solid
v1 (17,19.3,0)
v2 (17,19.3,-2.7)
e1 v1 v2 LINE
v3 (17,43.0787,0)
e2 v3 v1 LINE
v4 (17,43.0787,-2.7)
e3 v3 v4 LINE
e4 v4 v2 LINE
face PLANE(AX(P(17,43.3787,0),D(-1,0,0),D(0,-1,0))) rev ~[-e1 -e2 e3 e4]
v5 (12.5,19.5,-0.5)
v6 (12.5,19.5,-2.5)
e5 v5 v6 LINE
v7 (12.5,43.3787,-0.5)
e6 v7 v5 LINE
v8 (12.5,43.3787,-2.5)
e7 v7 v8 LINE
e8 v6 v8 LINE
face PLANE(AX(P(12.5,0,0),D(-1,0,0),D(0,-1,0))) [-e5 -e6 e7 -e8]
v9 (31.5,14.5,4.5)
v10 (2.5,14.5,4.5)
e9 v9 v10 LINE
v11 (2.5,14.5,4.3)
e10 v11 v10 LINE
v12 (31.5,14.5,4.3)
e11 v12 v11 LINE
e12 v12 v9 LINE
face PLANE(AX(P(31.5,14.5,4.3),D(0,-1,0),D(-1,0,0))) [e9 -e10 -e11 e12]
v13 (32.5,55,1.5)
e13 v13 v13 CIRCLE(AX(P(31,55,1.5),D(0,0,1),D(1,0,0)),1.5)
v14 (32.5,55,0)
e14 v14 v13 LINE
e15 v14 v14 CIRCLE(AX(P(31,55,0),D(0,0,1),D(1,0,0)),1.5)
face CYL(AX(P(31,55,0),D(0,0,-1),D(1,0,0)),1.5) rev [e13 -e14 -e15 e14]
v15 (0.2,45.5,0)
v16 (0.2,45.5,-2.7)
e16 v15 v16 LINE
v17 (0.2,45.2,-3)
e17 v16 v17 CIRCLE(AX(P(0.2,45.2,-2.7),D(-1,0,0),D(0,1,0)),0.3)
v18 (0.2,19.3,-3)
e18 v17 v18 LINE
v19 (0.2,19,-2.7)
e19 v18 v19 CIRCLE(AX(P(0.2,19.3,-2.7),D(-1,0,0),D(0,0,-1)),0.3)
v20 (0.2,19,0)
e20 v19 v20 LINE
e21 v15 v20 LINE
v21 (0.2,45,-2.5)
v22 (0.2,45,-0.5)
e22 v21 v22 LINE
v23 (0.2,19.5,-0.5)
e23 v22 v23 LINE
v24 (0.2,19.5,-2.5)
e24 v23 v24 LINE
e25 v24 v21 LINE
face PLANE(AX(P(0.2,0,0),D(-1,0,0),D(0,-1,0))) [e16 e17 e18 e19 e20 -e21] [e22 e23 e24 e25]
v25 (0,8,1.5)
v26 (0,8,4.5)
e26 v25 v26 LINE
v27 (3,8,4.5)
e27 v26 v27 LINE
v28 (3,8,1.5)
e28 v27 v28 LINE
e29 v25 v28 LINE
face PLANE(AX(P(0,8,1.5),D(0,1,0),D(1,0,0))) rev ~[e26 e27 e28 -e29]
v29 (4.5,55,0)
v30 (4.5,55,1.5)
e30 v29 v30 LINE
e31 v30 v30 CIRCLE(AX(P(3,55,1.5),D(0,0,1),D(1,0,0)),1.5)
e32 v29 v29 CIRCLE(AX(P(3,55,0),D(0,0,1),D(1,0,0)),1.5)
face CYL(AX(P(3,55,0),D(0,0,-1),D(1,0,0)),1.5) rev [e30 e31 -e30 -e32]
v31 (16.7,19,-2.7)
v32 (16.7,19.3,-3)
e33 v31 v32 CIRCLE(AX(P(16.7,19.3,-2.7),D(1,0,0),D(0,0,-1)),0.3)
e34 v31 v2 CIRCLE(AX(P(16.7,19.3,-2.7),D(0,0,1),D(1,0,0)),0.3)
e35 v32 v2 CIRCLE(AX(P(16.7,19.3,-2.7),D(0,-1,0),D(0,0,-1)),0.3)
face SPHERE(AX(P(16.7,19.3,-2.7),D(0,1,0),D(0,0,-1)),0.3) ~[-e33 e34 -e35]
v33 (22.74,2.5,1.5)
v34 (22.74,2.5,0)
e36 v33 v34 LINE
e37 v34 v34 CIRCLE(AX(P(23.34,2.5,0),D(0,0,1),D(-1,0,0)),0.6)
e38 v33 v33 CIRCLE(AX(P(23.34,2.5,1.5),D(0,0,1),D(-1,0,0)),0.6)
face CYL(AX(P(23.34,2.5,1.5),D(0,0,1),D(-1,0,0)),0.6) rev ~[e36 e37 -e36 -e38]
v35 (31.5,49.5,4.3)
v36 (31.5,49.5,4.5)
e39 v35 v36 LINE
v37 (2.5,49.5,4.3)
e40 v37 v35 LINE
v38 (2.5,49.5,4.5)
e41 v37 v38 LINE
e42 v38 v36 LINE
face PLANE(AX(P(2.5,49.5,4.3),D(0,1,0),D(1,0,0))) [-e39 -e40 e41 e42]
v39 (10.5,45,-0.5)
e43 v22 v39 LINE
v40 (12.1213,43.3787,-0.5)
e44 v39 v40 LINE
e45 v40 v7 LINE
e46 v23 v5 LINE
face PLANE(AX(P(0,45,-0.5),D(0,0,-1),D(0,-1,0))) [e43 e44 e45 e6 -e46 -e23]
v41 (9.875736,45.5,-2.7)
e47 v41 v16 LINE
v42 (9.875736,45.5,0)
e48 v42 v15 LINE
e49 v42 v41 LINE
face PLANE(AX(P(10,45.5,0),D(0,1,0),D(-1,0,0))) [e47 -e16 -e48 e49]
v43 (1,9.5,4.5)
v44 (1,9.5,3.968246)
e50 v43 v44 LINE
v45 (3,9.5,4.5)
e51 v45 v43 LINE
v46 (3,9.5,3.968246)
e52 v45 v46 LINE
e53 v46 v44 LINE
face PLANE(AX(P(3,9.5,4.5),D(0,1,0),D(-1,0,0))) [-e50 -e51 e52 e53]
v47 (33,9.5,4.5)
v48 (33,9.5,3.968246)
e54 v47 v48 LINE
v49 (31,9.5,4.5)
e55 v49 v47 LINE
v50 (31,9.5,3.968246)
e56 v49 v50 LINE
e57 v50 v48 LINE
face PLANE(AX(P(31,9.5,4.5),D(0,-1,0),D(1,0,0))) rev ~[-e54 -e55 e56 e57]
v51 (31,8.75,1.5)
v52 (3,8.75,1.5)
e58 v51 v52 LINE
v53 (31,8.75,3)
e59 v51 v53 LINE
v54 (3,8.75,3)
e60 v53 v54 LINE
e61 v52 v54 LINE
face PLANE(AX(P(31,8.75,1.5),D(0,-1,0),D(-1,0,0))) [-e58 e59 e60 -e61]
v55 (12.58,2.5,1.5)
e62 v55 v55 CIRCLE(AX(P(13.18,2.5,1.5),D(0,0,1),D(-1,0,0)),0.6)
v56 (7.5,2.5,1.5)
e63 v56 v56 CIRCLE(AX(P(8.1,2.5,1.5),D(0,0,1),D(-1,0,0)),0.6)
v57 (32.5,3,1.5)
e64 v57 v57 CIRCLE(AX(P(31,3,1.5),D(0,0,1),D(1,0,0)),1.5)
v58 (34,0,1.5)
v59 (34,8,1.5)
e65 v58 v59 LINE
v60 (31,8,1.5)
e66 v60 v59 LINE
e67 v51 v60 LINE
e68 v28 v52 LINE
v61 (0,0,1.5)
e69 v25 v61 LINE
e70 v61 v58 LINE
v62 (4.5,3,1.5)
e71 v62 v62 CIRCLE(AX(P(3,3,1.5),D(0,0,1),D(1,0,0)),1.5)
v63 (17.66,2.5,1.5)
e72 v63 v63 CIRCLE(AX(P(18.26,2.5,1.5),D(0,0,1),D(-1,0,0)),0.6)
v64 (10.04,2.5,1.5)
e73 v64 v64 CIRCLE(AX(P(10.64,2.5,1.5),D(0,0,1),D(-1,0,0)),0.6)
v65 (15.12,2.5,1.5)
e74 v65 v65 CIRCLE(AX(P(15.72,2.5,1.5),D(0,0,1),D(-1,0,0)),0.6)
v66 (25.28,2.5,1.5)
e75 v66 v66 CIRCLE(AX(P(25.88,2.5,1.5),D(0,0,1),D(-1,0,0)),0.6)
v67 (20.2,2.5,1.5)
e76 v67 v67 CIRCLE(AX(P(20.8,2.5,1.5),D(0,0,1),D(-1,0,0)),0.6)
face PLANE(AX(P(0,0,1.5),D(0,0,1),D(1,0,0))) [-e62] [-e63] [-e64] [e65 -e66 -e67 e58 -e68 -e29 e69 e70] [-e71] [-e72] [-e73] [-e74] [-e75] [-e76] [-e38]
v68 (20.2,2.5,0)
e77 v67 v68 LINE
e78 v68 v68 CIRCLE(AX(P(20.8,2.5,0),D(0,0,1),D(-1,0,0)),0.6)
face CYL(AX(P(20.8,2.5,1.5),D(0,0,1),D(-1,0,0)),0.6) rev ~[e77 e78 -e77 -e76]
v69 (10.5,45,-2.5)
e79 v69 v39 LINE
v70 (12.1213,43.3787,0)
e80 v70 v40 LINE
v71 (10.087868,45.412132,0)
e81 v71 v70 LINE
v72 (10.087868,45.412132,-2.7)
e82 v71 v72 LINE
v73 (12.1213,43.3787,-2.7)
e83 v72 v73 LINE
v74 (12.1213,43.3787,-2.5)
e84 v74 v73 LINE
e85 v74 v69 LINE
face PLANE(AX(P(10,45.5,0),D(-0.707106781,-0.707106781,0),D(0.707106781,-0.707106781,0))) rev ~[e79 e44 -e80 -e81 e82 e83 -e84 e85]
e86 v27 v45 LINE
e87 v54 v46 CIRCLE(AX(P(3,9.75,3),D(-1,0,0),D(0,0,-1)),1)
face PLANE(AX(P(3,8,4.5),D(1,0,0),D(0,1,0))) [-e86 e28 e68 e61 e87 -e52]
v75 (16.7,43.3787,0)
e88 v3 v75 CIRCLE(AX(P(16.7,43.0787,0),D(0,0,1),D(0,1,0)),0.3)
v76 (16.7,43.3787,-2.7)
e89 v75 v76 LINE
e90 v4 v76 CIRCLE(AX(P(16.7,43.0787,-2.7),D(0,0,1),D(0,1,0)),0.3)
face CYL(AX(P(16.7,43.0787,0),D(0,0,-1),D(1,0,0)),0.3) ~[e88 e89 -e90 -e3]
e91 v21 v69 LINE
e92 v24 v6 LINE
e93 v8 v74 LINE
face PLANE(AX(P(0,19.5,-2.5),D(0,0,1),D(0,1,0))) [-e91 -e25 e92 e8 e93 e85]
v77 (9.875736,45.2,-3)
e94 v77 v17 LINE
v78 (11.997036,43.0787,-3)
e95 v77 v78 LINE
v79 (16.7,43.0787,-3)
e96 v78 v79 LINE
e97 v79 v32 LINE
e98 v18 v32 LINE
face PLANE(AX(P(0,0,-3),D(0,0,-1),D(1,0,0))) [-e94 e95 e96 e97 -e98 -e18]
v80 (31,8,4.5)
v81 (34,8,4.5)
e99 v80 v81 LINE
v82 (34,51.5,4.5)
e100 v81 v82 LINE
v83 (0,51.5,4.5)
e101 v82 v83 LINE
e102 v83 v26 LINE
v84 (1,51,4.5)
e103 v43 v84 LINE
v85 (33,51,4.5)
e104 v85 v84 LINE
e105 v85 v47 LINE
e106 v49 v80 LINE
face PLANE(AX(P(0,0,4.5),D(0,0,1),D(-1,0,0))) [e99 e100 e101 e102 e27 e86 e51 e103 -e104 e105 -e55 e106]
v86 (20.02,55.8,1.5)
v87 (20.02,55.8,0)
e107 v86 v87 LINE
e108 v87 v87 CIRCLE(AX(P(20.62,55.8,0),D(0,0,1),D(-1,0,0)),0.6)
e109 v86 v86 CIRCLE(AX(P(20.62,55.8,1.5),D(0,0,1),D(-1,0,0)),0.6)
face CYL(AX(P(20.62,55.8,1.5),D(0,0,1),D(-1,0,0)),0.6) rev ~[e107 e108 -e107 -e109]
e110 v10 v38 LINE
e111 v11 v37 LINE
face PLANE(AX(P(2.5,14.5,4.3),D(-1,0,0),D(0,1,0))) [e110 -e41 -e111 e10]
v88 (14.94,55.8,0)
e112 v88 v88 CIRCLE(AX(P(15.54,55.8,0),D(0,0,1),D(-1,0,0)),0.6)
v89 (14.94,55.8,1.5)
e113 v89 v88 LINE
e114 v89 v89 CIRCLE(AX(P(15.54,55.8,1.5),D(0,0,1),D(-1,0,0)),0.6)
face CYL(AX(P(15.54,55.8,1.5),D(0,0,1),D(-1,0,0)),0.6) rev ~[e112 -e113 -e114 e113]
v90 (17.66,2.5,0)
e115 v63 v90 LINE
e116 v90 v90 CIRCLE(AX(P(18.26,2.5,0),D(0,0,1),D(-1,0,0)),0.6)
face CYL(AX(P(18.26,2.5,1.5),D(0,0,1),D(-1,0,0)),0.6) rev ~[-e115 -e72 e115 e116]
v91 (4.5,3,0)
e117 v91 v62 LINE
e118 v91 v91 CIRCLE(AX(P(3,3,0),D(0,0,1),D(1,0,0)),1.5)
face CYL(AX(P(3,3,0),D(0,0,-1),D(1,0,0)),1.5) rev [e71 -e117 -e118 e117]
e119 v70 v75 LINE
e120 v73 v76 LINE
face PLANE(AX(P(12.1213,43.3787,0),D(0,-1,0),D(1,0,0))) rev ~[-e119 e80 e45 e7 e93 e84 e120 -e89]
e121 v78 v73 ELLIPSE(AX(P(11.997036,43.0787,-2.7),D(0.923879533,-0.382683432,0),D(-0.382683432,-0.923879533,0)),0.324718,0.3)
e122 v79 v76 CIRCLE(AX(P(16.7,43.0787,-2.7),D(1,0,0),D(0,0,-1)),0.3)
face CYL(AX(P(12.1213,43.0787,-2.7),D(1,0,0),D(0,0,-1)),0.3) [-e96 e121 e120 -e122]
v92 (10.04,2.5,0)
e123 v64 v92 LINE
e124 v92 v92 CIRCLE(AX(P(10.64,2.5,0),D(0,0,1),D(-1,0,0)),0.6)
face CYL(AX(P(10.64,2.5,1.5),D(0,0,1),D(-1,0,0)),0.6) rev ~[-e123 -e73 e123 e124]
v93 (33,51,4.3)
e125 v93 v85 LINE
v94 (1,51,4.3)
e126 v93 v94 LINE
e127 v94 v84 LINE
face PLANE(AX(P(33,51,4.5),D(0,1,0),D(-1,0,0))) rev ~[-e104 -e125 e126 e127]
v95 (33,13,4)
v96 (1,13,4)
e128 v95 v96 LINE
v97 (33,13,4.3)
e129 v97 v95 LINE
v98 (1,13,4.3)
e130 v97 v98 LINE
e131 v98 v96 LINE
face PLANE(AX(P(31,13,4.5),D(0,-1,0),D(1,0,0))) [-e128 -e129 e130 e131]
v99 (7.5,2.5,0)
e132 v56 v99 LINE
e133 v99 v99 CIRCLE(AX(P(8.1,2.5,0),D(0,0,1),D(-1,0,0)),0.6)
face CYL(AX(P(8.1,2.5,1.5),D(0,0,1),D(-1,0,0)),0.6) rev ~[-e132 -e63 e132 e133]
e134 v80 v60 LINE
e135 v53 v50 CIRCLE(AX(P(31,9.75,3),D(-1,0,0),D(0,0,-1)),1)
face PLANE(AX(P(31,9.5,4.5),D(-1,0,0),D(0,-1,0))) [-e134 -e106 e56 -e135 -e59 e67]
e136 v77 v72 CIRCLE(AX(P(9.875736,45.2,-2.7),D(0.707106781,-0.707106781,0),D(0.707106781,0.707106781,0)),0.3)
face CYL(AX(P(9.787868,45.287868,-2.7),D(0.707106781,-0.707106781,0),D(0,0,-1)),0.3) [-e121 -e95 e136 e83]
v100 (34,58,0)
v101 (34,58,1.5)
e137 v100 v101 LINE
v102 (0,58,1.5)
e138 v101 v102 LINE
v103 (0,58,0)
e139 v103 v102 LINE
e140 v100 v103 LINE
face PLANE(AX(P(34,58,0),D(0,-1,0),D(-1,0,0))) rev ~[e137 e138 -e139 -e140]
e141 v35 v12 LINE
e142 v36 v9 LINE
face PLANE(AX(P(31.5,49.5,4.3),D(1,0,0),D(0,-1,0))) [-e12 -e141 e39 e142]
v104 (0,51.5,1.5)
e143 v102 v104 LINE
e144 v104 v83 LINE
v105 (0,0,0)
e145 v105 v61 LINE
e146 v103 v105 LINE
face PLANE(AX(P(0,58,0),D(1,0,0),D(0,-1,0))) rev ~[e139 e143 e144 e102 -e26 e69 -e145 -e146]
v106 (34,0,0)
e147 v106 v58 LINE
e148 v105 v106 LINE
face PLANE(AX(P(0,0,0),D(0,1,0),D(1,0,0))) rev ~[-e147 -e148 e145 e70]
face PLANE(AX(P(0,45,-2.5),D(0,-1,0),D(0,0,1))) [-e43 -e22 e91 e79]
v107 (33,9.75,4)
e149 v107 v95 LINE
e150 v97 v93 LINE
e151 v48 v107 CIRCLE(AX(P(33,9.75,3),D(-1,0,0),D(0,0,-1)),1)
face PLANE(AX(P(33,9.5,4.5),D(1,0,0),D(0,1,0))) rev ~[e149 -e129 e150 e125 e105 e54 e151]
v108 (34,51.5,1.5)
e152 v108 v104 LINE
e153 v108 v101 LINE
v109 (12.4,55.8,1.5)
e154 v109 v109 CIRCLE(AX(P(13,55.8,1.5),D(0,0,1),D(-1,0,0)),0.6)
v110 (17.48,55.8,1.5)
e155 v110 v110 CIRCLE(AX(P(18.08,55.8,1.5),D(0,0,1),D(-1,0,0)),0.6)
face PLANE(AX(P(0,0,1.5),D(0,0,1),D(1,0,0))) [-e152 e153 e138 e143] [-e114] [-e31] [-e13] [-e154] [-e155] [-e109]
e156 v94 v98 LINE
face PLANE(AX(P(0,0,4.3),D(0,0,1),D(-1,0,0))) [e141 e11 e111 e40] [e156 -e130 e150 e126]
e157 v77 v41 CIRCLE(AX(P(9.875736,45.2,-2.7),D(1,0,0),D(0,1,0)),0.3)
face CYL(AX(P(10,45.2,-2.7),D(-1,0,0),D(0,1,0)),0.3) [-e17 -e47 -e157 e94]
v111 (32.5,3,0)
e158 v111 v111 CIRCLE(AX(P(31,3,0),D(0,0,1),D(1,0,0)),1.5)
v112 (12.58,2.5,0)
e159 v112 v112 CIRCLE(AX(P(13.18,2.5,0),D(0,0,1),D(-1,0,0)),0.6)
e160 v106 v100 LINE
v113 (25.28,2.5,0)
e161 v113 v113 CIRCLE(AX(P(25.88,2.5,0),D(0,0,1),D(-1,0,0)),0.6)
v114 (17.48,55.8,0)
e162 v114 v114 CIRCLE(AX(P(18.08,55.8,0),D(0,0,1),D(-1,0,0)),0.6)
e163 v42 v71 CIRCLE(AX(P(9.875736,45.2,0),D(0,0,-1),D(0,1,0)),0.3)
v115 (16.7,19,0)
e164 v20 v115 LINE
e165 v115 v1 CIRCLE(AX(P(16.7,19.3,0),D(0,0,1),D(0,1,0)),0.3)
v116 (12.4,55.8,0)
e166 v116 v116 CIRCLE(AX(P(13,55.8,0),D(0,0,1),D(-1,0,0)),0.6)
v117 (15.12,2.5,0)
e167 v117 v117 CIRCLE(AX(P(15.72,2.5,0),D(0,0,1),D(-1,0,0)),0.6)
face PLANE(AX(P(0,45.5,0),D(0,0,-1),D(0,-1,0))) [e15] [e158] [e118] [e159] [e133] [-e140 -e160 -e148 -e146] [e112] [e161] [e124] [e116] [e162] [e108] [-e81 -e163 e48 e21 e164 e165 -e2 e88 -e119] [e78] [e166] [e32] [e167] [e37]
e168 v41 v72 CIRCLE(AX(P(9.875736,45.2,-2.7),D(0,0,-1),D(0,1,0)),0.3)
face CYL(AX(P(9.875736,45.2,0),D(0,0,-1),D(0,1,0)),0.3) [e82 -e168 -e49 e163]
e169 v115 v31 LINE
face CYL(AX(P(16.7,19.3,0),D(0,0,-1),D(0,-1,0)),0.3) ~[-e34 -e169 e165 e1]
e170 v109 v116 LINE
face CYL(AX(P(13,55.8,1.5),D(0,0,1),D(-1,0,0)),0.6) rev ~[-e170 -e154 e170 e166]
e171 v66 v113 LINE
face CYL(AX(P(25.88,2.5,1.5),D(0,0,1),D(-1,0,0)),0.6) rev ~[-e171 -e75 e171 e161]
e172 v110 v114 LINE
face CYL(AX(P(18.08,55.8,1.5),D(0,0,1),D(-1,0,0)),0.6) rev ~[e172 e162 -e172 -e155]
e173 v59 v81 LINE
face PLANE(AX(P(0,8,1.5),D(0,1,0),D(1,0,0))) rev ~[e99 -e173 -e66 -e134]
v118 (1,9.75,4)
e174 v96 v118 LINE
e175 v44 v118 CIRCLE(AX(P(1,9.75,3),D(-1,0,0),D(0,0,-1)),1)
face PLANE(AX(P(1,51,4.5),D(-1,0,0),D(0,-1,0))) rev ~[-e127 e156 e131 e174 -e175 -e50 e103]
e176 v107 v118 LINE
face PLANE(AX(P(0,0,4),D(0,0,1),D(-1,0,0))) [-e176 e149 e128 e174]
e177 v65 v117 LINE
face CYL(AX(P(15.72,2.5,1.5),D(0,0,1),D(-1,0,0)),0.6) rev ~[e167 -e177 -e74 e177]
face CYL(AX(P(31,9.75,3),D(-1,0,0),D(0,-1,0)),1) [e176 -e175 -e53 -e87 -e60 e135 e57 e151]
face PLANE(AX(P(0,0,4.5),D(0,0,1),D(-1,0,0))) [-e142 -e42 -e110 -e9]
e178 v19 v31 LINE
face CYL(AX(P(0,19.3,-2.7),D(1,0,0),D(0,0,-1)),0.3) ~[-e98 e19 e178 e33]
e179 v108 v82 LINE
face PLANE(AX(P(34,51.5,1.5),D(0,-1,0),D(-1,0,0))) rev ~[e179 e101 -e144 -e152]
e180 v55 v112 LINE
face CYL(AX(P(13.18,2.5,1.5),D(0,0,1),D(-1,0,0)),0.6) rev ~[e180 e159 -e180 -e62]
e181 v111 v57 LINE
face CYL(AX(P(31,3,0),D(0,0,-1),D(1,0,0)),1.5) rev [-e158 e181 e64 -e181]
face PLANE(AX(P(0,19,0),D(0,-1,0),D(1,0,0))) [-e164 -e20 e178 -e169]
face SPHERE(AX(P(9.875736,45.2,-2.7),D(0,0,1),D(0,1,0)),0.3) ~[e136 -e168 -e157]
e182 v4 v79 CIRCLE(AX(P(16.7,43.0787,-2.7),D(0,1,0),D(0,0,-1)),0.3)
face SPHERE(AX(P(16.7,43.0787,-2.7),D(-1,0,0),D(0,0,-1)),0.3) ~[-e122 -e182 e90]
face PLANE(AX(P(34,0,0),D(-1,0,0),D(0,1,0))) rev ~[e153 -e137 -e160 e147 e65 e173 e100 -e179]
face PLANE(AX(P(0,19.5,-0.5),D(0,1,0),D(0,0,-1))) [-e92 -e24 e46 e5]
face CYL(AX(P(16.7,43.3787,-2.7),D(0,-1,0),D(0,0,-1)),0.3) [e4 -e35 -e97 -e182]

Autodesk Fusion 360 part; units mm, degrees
sketch "Sketch1" plane through (0, 0, 0) normal (0, 0, 1) x (1, 0, 0)
  line L0 (0, 0) -> (34, 0)
  line L1 (34, 0) -> (34, 58)
  line L2 (34, 58) -> (0, 58)
  line L3 (0, 58) -> (0, 0)
  circle A0 centre (3, 3) radius 1.5
  circle A1 centre (31, 3) radius 1.5
  circle A2 centre (3, 55) radius 1.5
  circle A3 centre (31, 55) radius 1.5
  dimension "d1" = 34
  dimension "d2" = 58
  dimension "d3" = 3
  dimension "d4" = 3
  dimension "d5" = 3
  dimension "d6" = 3
  dimension "d7" = 3
  dimension "d8" = 3
  dimension "d9" = 3
  dimension "d10" = 3
  dimension "d11" = 3
  dimension "d12" = 3
  dimension "d13" = 3
  dimension "d14" = 3
extrude "Extrude1" add sketch "Sketch1" along normal blind 1.5
sketch "Sketch2" plane through (0, 0, 1.5) normal (0, 0, 1) x (-1, 0, 0)
  circle A0 centre (-31, -3) radius 1.5
  circle A1 centre (-3, -55) radius 1.5
  circle A2 centre (-3, -3) radius 1.5
  circle A3 centre (-31, -55) radius 1.5
  line L0 (0, -58) -> (0, 0)
  line L1 (0, 0) -> (-34, 0)
  line L2 (-34, 0) -> (-34, -58)
  line L3 (-34, -58) -> (0, -58)
  line L4 (0, -8) -> (-34, -8)
  line L5 (-34, -8) -> (-34, -51.5)
  line L6 (-34, -51.5) -> (0, -51.5)
  line L7 (0, -51.5) -> (0, -8)
  dimension "d17" = 43.5
  dimension "d18" = 34
  dimension "d19" = 8
extrude "Extrude2" add sketch "Sketch2" along normal blind 3 contours L0 L2 L4 L5 L6 L7
sketch "Sketch3" plane through (0, 0, 4.5) normal (0, 0, 1) x (-1, 0, 0)
  line L0 (0, -51.5) -> (0, -8)
  line L1 (0, -8) -> (-34, -8)
  line L2 (-34, -8) -> (-34, -51.5)
  line L3 (-34, -51.5) -> (0, -51.5)
  line L4 (-1, -13) -> (-33, -13)
  line L5 (-33, -13) -> (-33, -51)
  line L6 (-33, -51) -> (-1, -51)
  line L7 (-1, -51) -> (-1, -13)
  line L8 (-3, -13) -> (-31, -13)
  line L9 (-31, -13) -> (-31, -8)
  line L10 (-31, -8) -> (-3, -8)
  line L11 (-3, -8) -> (-3, -13)
  line L12 (-3, -9.5) -> (-1, -9.5)
  line L13 (-1, -9.5) -> (-1, -13)
  line L14 (-1, -13) -> (-3, -13)
  line L15 (-3, -13) -> (-3, -9.5)
  line L16 (-31, -9.5) -> (-33, -9.5)
  line L17 (-33, -9.5) -> (-33, -13)
  line L18 (-33, -13) -> (-31, -13)
  line L19 (-31, -13) -> (-31, -9.5)
  dimension "d22" = 5
  dimension "d23" = 0.5
  dimension "d24" = 1
  dimension "d25" = 1
  dimension "d38" = 28
  dimension "d39" = 3
  dimension "d42" = 1.5
  dimension "d43" = 1.5
extrude "Extrude6" cut sketch "Sketch3" against normal blind 3 contours L4 L11 L12 L13 L14 L15 | L4 L9 L16 L17 L18 L19
extrude "Extrude5" cut sketch "Sketch3" against normal blind 3 contours L1 L4 L8 L9 L10 L11 L15 L19
sketch "Sketch4" plane through (0, 0, 1.5) normal (0, 0, 1) x (-1, 0, 0)
  line L0 (0, -58) -> (0, -51.5)
  line L1 (-34, -51.5) -> (-34, -58)
  circle A0 centre (-8.1, -2.5) radius 0.6
  circle A1 centre (-10.64, -2.5) radius 0.6
  circle A2 centre (-13.18, -2.5) radius 0.6
  circle A3 centre (-15.72, -2.5) radius 0.6
  circle A4 centre (-18.26, -2.5) radius 0.6
  circle A5 centre (-20.8, -2.5) radius 0.6
  circle A6 centre (-23.34, -2.5) radius 0.6
  circle A7 centre (-25.88, -2.5) radius 0.6
  line L2 (0, -51.5) -> (-34, -51.5)
  line L3 (-34, -58) -> (0, -58)
  circle A8 centre (-3, -55) radius 1.5
  circle A9 centre (-31, -55) radius 1.5
  dimension "d27" = 1.2
  dimension "d29" = 8.1
  dimension "d32" = -2.54
  dimension "d33" = 0
extrude "Extrude3" cut sketch "Sketch4" against normal blind 1.5 contours A0 | A1 | A2 | A3 | A4 | A5 | A6 | A7
extrude "Extrude4" cut sketch "Sketch3" against normal blind 0.1 contours L4 L5 L6 L7 L8 L14 L18
extrude "Extrude7" cut sketch "Sketch3" against normal blind 0.2 contours L4 L5 L6 L7 L8 L14 L18
sketch "Sketch5" plane through (0, 0, 4.3) normal (0, 0, 1) x (-1, 0, 0)
  line L0 (-33, -51) -> (-1, -51)
  line L1 (-1, -51) -> (-1, -13)
  line L2 (-1, -13) -> (-33, -13)
  line L3 (-33, -13) -> (-33, -51)
  line L4 (-2.5, -49.5) -> (-31.5, -49.5)
  line L5 (-31.5, -49.5) -> (-31.5, -14.5)
  line L6 (-31.5, -14.5) -> (-2.5, -14.5)
  line L7 (-2.5, -14.5) -> (-2.5, -49.5)
  dimension "d48" = 1.5
  dimension "d49" = 1.5
  dimension "d50" = 1.5
  dimension "d51" = 1.5
extrude "Extrude8" add sketch "Sketch5" along normal blind 0.2 contours L4 L5 L6 L7
sketch "Sketch6" plane through (0, 0, 1.5) normal (0, 0, 1) x (-1, 0, 0)
  line L0 (0, -51.5) -> (-34, -51.5)
  line L1 (-34, -51.5) -> (-34, -58)
  line L2 (-34, -58) -> (0, -58)
  line L3 (0, -58) -> (0, -51.5)
  circle A0 centre (-3, -55) radius 1.5
  circle A1 centre (-31, -55) radius 1.5
  circle A2 centre (-13, -55.8) radius 0.6
  circle A3 centre (-15.54, -55.8) radius 0.6
  circle A4 centre (-18.08, -55.8) radius 0.6
  circle A5 centre (-20.62, -55.8) radius 0.6
  dimension "d54" = 1.2
  dimension "d55" = 13
  dimension "d56" = 2.2
  dimension "d59" = -2.54
  dimension "d60" = 0
extrude "Extrude9" cut sketch "Sketch6" against normal blind 1.5 contours A2 | A3 | A4 | A5
sketch "Sketch7" plane through (0, 0, 1.5) normal (0, 0, 1) x (-1, 0, 0)
  circle A0 centre (-20.8, -2.5) radius 0.6
  circle A1 centre (-10.64, -2.5) radius 0.6
  circle A2 centre (-13.18, -2.5) radius 0.6
  circle A3 centre (-23.34, -2.5) radius 0.6
  circle A4 centre (-18.26, -2.5) radius 0.6
  circle A5 centre (-8.1, -2.5) radius 0.6
  circle A6 centre (-15.72, -2.5) radius 0.6
  circle A7 centre (-25.88, -2.5) radius 0.6
  circle A8 centre (-3, -3) radius 1.5
  circle A9 centre (-31, -3) radius 1.5
  line L0 (-31, -9.5) -> (-33, -9.5)
  line L1 (-33, -9.5) -> (-33, -13)
  line L2 (-33, -13) -> (-1, -13)
  line L3 (-1, -13) -> (-1, -9.5)
  line L4 (-1, -9.5) -> (-3, -9.5)
  line L5 (-3, -9.5) -> (-3, -8)
  line L6 (-3, -8) -> (0, -8)
  line L7 (0, -8) -> (0, 0)
  line L8 (0, 0) -> (-34, 0)
  line L9 (-34, 0) -> (-34, -8)
  line L10 (-34, -8) -> (-31, -8)
  line L11 (-31, -8) -> (-31, -9.5)
  line L12 (-1, -13) -> (-33, -13)
  line L13 (-33, -13) -> (-33, -9.5)
  line L14 (-33, -9.5) -> (-1, -9.5)
  line L15 (-1, -9.5) -> (-1, -13)
  line L16 (-3, -9.5) -> (-31, -9.5)
  line L17 (-31, -9.5) -> (-31, -8.75)
  line L18 (-31, -8.75) -> (-3, -8.75)
  line L19 (-3, -8.75) -> (-3, -9.5)
extrude "Extrude10" add sketch "Sketch7" along normal blind 2.5 contours L0 L1 L2 L3 L4 L12 L13 L14 L15 L16 | L5 L11 L14 L16 L17 L18 L19
fillet "Fillet2" radius 1 1 edges at (17, 8.75, 4)
sketch "Sketch8" plane through (0, 0, 0) normal (0, 0, -1) x (1, 0, 0)
  circle A0 centre (15.54, -55.8) radius 0.6
  circle A1 centre (18.08, -55.8) radius 0.6
  circle A2 centre (13, -55.8) radius 0.6
  circle A3 centre (20.62, -55.8) radius 0.6
  circle A4 centre (20.8, -2.5) radius 0.6
  circle A5 centre (10.64, -2.5) radius 0.6
  circle A6 centre (13.18, -2.5) radius 0.6
  circle A7 centre (23.34, -2.5) radius 0.6
  circle A8 centre (18.26, -2.5) radius 0.6
  circle A9 centre (8.1, -2.5) radius 0.6
  circle A10 centre (15.72, -2.5) radius 0.6
  circle A11 centre (25.88, -2.5) radius 0.6
  circle A12 centre (31, -3) radius 1.5
  circle A13 centre (3, -55) radius 1.5
  circle A14 centre (3, -3) radius 1.5
  circle A15 centre (31, -55) radius 1.5
  line L0 (0, 0) -> (0, -58)
  line L1 (0, -58) -> (34, -58)
  line L2 (34, -58) -> (34, 0)
  line L3 (34, 0) -> (0, 0)
  line L4 (0, -19) -> (17, -19)
  line L5 (10, -45.5) -> (0, -45.5)
  line L6 (0, -45.5) -> (0, -19)
  line L7 (10, -45.5) -> (12.1213, -43.3787)
  line L8 (12.1213, -43.3787) -> (17, -43.3787)
  line L9 (17, -43.3787) -> (17, -19)
  dimension "d66" = 19
  dimension "d68" = 26.5
  dimension "d69" = 10
  dimension "d70" = 3
  dimension "d71" = 135
extrude "Extrude11" add sketch "Sketch8" along normal blind 3 contours L0 L4 L5 L6 L7 L8 L9
sketch "Sketch9" plane through (0, 0, 0) normal (-1, 0, 0) x (0, -1, 0)
  line L0 (-58, 0) -> (-45.5, 0)
  line L1 (-45.5, 0) -> (-45.5, -3)
  line L2 (-45.5, -3) -> (-19, -3)
  line L3 (-19, -3) -> (-19, 0)
  line L4 (-19, 0) -> (0, 0)
  line L5 (0, 0) -> (0, 1.5)
  line L6 (0, 1.5) -> (-8, 1.5)
  line L7 (-8, 1.5) -> (-8, 4.5)
  line L8 (-8, 4.5) -> (-51.5, 4.5)
  line L9 (-51.5, 4.5) -> (-51.5, 1.5)
  line L10 (-51.5, 1.5) -> (-58, 1.5)
  line L11 (-58, 1.5) -> (-58, 0)
  line L12 (-45, -0.5) -> (-19.5, -0.5)
  line L13 (-19.5, -0.5) -> (-19.5, -2.5)
  line L14 (-19.5, -2.5) -> (-45, -2.5)
  line L15 (-45, -2.5) -> (-45, -0.5)
  dimension "d74" = 0.5
  dimension "d75" = 0.5
  dimension "d76" = 0.5
  dimension "d77" = 0.5
extrude "Extrude12" cut sketch "Sketch9" against normal blind 12.5 contours L12 L13 L14 L15
fillet "Fillet3" radius 0.3 8 edges at (5, 45.5, -3) (11.0607, 44.4393, -3) (14.5607, 43.3787, -3) (17, 31.1893, -3) (8.5, 19, -3) (17, 43.3787, -1.5) (10, 45.5, -1.5) (17, 19, -1.5)
sketch "Sketch10" plane through (0, 0, 0) normal (-1, 0, 0) x (0, -1, 0)
  arc A0 (-19.3, -3) -> (-19, -2.7) centre (-19.3, -2.7) ccw
  line L0 (-19, -2.7) -> (-19, 0)
  line L1 (-19, 0) -> (0, 0)
  line L2 (0, 0) -> (0, 1.5)
  line L3 (0, 1.5) -> (-8, 1.5)
  line L4 (-8, 1.5) -> (-8, 4.5)
  line L5 (-8, 4.5) -> (-51.5, 4.5)
  line L6 (-51.5, 4.5) -> (-51.5, 1.5)
  line L7 (-51.5, 1.5) -> (-58, 1.5)
  line L8 (-58, 1.5) -> (-58, 0)
  line L9 (-58, 0) -> (-45.5, 0)
  line L10 (-45.5, 0) -> (-45.5, -2.7)
  arc A1 (-45.5, -2.7) -> (-45.2, -3) centre (-45.2, -2.7) ccw
  line L11 (-45.2, -3) -> (-19.3, -3)
  line L12 (-19.5, -0.5) -> (-19.5, -2.5)
  line L13 (-19.5, -2.5) -> (-45, -2.5)
  line L14 (-45, -2.5) -> (-45, -0.5)
  line L15 (-45, -0.5) -> (-19.5, -0.5)
  line L16 (-45.5, 0) -> (-19, 0)
  line L17 (-19, 0) -> (-19, -3)
  line L18 (-19, -3) -> (-45.5, -3)
  line L19 (-45.5, -3) -> (-45.5, 0)
extrude "Extrude13" cut sketch "Sketch10" against normal blind 0.2 contours A0 L0 L10 A1 L11 L16 L17 L18 L19
